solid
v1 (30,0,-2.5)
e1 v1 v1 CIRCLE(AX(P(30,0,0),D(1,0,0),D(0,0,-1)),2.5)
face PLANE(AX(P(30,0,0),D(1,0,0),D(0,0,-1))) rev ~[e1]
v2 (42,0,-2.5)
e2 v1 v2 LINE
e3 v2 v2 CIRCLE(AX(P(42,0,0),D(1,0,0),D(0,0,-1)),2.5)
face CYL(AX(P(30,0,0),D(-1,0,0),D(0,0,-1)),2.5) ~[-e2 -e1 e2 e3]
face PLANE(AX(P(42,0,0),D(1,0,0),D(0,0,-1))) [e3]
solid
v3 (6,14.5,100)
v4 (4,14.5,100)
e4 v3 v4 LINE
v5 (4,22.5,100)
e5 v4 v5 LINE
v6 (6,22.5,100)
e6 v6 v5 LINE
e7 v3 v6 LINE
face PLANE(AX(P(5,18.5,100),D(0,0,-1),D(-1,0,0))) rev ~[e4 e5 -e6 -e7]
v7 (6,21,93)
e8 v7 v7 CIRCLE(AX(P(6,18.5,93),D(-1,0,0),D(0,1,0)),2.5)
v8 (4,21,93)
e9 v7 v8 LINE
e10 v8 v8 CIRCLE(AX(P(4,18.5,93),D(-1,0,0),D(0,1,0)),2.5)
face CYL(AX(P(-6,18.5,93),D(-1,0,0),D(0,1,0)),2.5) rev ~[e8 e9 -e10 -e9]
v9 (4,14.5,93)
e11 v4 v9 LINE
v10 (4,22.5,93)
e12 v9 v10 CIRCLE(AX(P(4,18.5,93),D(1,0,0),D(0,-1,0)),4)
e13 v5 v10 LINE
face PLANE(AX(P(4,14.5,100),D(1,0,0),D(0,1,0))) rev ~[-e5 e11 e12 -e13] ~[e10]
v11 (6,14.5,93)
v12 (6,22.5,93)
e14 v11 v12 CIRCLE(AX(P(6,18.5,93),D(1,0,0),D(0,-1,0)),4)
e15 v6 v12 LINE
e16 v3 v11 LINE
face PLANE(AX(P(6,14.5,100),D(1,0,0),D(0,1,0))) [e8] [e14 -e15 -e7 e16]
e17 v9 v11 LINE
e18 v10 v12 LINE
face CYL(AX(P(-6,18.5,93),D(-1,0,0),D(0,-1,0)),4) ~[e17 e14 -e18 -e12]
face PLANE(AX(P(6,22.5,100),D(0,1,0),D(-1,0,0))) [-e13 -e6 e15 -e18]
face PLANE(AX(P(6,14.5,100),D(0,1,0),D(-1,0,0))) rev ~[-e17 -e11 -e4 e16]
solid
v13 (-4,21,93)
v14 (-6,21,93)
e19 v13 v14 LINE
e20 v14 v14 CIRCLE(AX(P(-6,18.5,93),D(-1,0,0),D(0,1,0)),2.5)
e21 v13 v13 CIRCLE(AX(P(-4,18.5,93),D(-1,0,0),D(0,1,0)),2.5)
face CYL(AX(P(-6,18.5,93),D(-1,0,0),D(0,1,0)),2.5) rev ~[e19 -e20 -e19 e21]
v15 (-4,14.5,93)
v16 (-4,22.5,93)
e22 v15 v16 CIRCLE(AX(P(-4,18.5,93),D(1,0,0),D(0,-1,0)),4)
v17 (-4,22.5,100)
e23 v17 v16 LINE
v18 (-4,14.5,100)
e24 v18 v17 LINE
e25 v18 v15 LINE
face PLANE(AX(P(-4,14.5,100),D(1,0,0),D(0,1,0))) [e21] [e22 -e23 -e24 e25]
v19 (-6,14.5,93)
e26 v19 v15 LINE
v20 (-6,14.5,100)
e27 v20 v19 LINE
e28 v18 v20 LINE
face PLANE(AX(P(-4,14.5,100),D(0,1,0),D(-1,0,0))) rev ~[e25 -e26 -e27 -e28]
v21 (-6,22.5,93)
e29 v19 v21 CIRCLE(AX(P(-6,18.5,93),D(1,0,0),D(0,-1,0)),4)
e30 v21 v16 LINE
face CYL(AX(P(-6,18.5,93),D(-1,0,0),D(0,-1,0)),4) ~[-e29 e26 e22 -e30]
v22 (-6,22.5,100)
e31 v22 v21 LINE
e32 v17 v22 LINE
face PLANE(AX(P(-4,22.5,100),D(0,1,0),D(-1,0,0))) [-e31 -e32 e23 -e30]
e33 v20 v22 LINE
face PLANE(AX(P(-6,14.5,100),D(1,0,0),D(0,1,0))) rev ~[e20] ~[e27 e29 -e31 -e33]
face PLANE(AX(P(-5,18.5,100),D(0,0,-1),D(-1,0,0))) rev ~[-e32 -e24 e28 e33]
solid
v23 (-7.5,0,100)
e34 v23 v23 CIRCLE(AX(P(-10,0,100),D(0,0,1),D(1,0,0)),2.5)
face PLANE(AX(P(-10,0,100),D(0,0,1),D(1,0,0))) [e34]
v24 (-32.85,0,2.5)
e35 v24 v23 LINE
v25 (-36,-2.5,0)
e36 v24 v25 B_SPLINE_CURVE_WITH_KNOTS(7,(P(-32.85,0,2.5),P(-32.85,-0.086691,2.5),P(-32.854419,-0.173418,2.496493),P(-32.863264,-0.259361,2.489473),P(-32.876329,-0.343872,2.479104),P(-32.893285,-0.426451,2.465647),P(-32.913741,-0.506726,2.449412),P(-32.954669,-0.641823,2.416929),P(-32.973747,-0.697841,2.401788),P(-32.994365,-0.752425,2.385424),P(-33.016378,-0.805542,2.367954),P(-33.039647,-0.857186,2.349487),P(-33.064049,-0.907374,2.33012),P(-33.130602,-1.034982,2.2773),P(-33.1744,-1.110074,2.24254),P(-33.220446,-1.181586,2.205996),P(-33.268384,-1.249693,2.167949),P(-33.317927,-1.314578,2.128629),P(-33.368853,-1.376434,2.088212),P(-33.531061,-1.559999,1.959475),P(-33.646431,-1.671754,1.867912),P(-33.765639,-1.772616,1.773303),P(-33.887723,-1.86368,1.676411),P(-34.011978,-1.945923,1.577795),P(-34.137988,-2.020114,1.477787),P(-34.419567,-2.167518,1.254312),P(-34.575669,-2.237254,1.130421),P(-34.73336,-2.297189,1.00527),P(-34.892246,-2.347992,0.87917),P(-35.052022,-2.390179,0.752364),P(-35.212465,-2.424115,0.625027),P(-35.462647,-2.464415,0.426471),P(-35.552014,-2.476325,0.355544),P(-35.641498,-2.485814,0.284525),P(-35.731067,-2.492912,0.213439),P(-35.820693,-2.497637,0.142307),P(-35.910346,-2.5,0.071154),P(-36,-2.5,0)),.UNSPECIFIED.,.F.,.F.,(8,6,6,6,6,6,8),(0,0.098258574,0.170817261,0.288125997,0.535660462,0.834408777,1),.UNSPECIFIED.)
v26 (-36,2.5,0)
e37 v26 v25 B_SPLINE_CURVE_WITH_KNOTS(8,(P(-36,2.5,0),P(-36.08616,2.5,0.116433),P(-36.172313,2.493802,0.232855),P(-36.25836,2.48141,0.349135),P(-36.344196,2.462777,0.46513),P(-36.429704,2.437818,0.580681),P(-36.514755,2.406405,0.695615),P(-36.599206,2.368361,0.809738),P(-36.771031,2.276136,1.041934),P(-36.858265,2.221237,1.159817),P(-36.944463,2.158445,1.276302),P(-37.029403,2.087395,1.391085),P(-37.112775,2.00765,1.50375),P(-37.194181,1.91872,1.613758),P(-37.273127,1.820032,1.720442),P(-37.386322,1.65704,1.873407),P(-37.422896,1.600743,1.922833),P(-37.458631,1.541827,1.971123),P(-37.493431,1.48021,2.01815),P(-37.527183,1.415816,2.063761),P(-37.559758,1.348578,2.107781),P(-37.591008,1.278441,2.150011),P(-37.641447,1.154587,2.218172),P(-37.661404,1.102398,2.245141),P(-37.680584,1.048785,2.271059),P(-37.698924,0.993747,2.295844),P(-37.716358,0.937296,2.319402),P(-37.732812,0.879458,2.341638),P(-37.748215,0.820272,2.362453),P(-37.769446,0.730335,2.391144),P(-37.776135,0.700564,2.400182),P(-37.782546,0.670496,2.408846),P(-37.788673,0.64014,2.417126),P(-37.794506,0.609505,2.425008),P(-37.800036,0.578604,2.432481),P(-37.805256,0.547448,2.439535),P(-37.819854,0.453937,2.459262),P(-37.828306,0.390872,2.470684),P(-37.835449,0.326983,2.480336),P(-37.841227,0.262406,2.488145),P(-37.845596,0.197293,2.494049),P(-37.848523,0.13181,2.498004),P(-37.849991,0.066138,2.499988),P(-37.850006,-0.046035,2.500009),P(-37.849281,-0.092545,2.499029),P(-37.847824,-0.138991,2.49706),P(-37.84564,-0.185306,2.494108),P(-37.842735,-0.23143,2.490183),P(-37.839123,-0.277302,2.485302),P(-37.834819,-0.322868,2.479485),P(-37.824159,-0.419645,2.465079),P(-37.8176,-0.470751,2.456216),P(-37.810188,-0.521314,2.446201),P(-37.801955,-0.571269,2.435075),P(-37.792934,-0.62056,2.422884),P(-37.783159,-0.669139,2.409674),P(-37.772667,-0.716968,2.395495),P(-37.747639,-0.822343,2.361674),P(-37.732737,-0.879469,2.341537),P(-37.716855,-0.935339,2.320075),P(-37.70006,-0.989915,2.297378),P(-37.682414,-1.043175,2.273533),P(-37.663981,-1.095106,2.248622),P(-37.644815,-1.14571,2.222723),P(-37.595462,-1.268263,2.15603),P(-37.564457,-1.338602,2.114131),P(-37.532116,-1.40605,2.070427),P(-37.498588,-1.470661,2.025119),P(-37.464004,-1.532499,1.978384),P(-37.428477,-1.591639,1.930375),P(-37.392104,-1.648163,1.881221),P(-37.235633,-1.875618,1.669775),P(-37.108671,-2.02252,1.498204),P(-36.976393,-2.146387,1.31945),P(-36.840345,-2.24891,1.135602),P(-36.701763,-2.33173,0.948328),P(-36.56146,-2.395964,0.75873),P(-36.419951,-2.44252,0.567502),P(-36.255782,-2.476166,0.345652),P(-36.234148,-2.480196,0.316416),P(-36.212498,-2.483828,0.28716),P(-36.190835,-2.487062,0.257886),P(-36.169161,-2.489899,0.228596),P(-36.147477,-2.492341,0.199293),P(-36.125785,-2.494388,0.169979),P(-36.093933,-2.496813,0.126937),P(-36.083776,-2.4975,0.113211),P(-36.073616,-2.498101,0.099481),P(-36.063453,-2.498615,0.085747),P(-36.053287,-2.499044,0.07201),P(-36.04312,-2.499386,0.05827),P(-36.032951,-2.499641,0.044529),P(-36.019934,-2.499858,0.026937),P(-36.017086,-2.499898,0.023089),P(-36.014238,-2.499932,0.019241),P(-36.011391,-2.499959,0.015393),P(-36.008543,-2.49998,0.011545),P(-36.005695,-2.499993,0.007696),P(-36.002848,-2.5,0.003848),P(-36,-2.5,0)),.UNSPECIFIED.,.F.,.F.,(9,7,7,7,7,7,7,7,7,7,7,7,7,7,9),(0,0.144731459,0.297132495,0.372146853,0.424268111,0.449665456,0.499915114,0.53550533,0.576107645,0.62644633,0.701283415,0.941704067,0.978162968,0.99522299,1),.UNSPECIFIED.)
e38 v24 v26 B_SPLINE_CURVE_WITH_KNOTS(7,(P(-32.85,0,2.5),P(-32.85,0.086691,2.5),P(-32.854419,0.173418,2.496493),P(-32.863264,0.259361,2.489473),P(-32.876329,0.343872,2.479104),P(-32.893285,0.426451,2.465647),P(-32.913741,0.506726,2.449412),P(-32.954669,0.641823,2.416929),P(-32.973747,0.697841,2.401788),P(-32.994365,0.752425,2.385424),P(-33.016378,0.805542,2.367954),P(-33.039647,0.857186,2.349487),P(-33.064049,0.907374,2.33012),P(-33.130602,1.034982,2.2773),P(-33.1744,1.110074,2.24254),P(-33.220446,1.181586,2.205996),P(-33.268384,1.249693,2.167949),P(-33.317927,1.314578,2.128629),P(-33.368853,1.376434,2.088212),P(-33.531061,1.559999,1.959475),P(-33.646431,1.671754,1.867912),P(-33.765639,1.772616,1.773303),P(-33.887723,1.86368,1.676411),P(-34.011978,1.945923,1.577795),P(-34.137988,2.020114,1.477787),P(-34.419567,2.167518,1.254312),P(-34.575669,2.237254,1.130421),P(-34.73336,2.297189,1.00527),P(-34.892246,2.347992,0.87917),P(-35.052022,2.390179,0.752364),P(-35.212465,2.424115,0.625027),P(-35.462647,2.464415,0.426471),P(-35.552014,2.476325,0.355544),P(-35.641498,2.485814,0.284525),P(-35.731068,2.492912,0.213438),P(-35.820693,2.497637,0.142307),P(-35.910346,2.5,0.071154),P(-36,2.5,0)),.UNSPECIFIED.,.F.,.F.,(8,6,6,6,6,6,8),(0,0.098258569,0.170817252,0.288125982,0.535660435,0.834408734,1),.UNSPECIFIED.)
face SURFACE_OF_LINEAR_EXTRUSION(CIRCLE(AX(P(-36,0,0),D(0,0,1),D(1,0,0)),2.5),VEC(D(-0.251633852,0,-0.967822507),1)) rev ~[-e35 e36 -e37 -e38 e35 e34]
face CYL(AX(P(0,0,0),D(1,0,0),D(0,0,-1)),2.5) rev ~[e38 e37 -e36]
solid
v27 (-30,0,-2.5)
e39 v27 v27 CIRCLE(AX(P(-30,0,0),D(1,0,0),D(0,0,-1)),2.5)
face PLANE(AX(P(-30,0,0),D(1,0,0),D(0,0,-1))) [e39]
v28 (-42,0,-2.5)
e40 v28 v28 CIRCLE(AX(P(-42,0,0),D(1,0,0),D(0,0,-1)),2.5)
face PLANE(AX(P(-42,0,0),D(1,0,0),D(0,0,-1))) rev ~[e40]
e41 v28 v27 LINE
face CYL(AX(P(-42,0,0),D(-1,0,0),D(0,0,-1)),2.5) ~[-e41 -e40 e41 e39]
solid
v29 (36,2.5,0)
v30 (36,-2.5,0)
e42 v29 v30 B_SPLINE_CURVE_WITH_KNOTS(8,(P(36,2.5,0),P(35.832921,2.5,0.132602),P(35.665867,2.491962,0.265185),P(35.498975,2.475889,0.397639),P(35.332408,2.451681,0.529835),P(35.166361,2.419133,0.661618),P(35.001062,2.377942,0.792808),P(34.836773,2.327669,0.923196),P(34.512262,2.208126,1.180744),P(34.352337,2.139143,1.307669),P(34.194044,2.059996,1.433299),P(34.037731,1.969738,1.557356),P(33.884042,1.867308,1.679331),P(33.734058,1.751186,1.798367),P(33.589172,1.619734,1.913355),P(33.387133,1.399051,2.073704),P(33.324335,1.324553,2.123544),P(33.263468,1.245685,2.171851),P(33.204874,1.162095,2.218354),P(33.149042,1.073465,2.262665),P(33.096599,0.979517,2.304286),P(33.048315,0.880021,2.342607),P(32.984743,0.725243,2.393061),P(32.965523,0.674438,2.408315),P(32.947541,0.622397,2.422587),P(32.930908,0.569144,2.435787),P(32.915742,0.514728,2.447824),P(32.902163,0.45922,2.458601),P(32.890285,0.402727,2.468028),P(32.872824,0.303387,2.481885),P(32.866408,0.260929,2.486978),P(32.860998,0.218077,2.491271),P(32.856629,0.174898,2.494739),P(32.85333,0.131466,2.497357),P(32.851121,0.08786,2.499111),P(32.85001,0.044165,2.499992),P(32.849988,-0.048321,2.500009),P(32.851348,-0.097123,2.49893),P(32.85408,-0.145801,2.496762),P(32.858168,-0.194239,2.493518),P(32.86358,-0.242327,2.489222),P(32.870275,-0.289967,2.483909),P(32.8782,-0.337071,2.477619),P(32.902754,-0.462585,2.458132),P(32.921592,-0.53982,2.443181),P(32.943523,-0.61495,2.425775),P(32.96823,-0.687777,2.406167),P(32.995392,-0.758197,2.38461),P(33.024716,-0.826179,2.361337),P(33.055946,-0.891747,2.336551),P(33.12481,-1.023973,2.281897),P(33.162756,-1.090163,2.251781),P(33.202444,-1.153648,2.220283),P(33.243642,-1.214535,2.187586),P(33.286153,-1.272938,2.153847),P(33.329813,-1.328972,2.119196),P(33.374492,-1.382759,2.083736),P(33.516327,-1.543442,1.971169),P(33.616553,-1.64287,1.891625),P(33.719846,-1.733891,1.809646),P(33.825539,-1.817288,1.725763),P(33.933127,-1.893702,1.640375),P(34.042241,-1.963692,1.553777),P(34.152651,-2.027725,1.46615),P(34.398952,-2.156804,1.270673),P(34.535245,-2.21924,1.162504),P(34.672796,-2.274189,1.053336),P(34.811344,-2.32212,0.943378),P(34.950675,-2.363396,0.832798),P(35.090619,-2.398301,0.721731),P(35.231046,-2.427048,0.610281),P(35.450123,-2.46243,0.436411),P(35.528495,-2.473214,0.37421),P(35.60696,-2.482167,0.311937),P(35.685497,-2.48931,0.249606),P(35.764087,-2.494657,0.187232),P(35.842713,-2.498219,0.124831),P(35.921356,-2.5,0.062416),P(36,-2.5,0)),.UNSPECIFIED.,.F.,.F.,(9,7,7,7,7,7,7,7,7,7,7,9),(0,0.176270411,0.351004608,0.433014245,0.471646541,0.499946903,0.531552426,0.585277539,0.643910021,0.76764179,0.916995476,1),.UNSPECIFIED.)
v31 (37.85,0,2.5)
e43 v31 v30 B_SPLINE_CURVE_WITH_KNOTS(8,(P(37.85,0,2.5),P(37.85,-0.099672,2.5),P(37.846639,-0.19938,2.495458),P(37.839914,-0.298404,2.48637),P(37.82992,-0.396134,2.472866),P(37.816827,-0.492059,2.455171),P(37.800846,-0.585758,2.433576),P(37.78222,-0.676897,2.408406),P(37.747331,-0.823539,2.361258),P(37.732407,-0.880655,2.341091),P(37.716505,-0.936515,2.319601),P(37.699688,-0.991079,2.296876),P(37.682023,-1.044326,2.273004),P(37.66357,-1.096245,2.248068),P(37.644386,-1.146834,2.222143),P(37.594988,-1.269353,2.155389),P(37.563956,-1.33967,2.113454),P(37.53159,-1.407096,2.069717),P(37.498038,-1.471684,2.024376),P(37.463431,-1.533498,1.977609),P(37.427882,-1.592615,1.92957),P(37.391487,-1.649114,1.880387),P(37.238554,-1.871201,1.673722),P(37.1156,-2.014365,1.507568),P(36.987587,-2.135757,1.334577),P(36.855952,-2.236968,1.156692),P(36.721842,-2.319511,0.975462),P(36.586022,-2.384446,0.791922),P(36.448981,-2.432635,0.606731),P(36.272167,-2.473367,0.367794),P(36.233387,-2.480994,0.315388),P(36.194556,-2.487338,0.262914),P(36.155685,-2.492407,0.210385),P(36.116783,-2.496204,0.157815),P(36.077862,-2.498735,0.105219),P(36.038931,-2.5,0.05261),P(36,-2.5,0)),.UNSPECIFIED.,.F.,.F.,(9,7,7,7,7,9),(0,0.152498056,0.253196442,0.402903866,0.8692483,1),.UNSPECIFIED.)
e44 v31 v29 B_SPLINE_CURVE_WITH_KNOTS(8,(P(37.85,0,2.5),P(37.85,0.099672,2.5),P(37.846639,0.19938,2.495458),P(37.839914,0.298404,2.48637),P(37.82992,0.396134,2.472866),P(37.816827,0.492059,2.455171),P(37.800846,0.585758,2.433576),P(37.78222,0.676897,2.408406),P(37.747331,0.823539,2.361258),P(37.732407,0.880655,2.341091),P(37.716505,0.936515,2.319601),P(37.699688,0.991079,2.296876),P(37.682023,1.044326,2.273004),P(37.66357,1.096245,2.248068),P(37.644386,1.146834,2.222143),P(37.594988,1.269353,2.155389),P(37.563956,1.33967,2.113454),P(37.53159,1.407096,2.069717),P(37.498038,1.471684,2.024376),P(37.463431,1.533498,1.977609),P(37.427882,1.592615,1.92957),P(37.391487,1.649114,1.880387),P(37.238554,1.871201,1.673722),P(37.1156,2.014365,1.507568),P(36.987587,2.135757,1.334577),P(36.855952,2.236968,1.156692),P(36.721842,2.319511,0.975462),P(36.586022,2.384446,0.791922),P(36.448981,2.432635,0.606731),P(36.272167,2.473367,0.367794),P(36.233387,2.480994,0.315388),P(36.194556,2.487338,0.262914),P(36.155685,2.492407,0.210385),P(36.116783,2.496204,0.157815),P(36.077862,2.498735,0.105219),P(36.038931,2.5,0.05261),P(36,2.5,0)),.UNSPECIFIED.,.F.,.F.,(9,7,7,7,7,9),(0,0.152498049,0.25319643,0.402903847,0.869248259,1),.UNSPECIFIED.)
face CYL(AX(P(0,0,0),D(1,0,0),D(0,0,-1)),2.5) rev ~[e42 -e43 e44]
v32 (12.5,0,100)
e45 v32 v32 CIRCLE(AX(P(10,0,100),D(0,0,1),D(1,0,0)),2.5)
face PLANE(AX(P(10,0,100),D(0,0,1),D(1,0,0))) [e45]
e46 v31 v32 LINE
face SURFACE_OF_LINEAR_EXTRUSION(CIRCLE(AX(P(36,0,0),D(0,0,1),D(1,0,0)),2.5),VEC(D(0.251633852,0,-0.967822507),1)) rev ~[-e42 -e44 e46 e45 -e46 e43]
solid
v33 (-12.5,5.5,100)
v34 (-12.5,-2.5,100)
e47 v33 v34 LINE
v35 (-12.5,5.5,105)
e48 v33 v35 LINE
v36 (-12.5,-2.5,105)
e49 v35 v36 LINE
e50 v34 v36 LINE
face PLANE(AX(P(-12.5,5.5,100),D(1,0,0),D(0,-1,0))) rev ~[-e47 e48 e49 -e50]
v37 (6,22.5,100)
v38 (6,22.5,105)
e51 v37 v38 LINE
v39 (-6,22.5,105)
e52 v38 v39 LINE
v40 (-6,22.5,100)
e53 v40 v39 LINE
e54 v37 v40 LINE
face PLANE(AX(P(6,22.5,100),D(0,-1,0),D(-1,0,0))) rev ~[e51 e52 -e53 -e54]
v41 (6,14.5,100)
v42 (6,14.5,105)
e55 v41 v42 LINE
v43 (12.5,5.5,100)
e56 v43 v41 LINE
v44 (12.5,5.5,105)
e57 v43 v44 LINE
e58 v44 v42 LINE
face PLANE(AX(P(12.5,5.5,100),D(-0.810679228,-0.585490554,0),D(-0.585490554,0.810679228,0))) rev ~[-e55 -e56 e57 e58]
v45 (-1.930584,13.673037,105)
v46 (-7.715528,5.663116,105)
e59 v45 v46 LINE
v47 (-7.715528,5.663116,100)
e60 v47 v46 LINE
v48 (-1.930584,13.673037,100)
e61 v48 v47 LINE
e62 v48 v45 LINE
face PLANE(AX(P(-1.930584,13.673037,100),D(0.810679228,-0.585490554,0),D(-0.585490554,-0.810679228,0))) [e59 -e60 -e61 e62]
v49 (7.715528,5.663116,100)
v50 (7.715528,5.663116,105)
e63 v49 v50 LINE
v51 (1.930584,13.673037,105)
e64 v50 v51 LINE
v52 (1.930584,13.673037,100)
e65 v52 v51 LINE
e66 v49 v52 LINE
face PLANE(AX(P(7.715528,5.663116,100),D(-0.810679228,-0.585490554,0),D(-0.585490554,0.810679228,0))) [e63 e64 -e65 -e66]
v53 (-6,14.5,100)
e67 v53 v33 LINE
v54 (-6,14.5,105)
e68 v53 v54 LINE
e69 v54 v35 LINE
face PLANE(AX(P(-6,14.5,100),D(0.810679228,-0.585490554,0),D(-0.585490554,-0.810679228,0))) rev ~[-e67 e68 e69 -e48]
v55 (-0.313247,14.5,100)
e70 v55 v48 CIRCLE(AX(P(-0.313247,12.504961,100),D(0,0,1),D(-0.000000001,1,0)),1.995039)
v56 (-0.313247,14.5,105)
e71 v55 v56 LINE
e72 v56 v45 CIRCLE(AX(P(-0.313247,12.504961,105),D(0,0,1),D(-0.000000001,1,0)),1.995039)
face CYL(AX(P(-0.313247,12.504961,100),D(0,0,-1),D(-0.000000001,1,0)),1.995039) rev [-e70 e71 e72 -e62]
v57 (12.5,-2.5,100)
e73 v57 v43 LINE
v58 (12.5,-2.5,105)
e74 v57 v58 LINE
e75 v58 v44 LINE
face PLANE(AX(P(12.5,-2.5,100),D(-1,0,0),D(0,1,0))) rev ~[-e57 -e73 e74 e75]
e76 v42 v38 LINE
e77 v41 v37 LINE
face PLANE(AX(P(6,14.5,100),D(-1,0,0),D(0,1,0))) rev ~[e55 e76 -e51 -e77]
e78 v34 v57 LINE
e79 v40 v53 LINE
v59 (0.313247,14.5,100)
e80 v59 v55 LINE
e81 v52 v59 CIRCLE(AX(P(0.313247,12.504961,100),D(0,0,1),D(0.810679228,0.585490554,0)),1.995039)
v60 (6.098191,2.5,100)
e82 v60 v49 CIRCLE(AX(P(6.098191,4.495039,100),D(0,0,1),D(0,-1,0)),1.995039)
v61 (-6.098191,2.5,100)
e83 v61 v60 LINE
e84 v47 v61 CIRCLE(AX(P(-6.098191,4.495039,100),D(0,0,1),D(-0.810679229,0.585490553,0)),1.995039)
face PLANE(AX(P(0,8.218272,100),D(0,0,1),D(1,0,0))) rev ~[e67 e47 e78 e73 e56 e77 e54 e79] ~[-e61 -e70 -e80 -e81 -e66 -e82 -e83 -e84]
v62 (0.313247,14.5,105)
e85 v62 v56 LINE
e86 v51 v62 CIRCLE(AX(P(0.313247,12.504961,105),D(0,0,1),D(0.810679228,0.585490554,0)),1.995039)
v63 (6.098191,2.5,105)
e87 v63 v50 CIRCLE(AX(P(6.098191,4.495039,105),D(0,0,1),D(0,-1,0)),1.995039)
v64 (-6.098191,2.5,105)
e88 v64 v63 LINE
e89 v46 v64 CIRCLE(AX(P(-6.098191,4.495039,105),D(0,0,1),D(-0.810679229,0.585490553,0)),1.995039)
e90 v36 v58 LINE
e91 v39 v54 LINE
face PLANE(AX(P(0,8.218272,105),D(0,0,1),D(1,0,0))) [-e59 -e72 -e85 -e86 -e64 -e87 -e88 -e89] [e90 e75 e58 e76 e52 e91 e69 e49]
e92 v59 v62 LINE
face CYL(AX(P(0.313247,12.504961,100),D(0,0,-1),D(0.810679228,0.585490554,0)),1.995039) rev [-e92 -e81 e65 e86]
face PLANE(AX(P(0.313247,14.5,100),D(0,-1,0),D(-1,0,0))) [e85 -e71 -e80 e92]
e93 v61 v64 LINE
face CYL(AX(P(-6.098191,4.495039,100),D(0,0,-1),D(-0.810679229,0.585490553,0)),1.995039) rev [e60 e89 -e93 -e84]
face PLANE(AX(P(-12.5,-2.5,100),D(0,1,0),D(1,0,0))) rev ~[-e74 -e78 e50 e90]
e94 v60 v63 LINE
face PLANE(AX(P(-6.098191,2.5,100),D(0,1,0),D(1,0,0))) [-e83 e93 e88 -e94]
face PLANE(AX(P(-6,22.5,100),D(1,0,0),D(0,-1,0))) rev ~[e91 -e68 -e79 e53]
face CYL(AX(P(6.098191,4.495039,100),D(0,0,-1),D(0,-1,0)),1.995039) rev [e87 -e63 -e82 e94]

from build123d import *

# Parameters (mm, degrees)
SKETCH16_R              = 2.5
BOSS_EXTRUDE1_DEPTH     = 103.324730825
SKETCH16_3_R            = 2.5
BOSS_EXTRUDE2_DEPTH     = 103.324730825
SKETCH17_R              = 2.5
CUT_EXTRUDE2_DEPTH      = 108.18442051
CUT_EXTRUDE2_DEPTH_BACK = 108.18442051
BOSS_EXTRUDE4_START     = 30
SKETCH17_3_R            = 2.5
BOSS_EXTRUDE4_DEPTH     = 12
BOSS_EXTRUDE5_START     = -42
SKETCH17_4_R            = 2.5
BOSS_EXTRUDE5_DEPTH     = 12
BOSS_EXTRUDE7_START     = 100
BOSS_EXTRUDE7_DEPTH     = 5
SKETCH23_W              = 2
SKETCH23_H              = 8
BOSS_EXTRUDE8_DEPTH     = 11
BOSS_EXTRUDE8_2_DEPTH   = 11
SKETCH24_R              = 2.5
CUT_EXTRUDE5_DEPTH      = 118.623339521
CUT_EXTRUDE5_DEPTH_BACK = 118.623339521


with BuildPart() as part:
    # Sketch16 → Boss-Extrude1 (new, along a direction that is not the sketch's normal)
    with BuildSketch(Plane.XY):
        with Locations((36, 0)):
            Circle(SKETCH16_R)
    extrude(amount=BOSS_EXTRUDE1_DEPTH, dir=(-0.25163385176495107, 0, 0.967822506788272))


with BuildPart() as body_2:
    # Sketch16<3> → Boss-Extrude2 (new, along a direction that is not the sketch's normal)
    with BuildSketch(Plane.XY):
        with Locations((-36, 0)):
            Circle(SKETCH16_3_R)
    extrude(amount=BOSS_EXTRUDE2_DEPTH, dir=(0.25163385176495107, 0, 0.967822506788272))


with BuildPart() as cut_extrude2_tool:
    # Sketch17 → Cut-Extrude2 (new, two sides)
    with BuildSketch(Plane(origin=(0, 0, 0), x_dir=(0, 0, -1), z_dir=(1, 0, 0))) as cut_extrude2_sk:
        Circle(SKETCH17_R)
    extrude(amount=CUT_EXTRUDE2_DEPTH)
    extrude(cut_extrude2_sk.sketch, amount=-CUT_EXTRUDE2_DEPTH_BACK)


with BuildPart() as part_1:
    add(part.part)

    # Cut-Extrude2: cut by cut_extrude2_tool
    add(cut_extrude2_tool.part, mode=Mode.SUBTRACT)


with BuildPart() as body_2_1:
    add(body_2.part)

    # Cut-Extrude2: cut by cut_extrude2_tool
    add(cut_extrude2_tool.part, mode=Mode.SUBTRACT)


with BuildPart() as body_3:
    # Sketch17<3> → Boss-Extrude4 (new body)
    with BuildSketch(Plane(origin=(0, 0, 0), x_dir=(0, 0, -1), z_dir=(1, 0, 0)).offset(BOSS_EXTRUDE4_START)):
        Circle(SKETCH17_3_R)
    extrude(amount=BOSS_EXTRUDE4_DEPTH)


with BuildPart() as body_4:
    # Sketch17<4> → Boss-Extrude5 (new body)
    with BuildSketch(Plane(origin=(0, 0, 0), x_dir=(0, 0, -1), z_dir=(1, 0, 0)).offset(BOSS_EXTRUDE5_START)):
        Circle(SKETCH17_4_R)
    extrude(amount=BOSS_EXTRUDE5_DEPTH)


with BuildPart() as body_5:
    # Sketch22 → Boss-Extrude7 (new body)
    with BuildSketch(Plane.XY.offset(BOSS_EXTRUDE7_START)):
        Polygon((-12.5, -2.5), (12.5, -2.5), (12.5, 5.5), (6, 14.5), (6, 22.5), (-6, 22.5), (-6, 14.5), (-12.5, 5.5), align=None)
        with BuildLine():
            Line((-6.098190951, 2.5), (6.098190951, 2.5))
            ThreePointArc((6.098190951, 2.5), (7.874498779, 3.586792782), (7.715527659, 5.663115549))
            Line((7.715527659, 5.663115549), (1.930584047, 13.673037473))
            ThreePointArc((1.930584047, 13.673037473), (1.221493595, 14.28126879), (0.313247339, 14.5))
            Line((0.313247339, 14.5), (-0.313247339, 14.5))
            ThreePointArc((-0.313247339, 14.5), (-1.221493595, 14.28126879), (-1.930584047, 13.673037473))
            Line((-1.930584047, 13.673037473), (-7.715527659, 5.663115549))
            ThreePointArc((-7.715527659, 5.663115549), (-7.874498779, 3.586792782), (-6.098190951, 2.5))
        make_face(mode=Mode.SUBTRACT)
    extrude(amount=BOSS_EXTRUDE7_DEPTH)


with BuildPart() as body_6:
    # Sketch23 → Boss-Extrude8 (new body)
    with BuildSketch(Plane(origin=(0, 0, 100), x_dir=(-1, 0, 0), z_dir=(0, 0, -1))):
        with Locations((-5, 18.5)):
            Rectangle(SKETCH23_W, SKETCH23_H)
    extrude(amount=BOSS_EXTRUDE8_DEPTH)


with BuildPart() as body_7:
    # Sketch23 → Boss-Extrude8 2 (new body)
    with BuildSketch(Plane(origin=(0, 0, 100), x_dir=(-1, 0, 0), z_dir=(0, 0, -1))):
        with Locations((5, 18.5)):
            Rectangle(SKETCH23_W, SKETCH23_H)
    extrude(amount=BOSS_EXTRUDE8_2_DEPTH)


with BuildPart() as cut_extrude5_tool:
    # Sketch24 → Cut-Extrude5 (new, two sides)
    with BuildSketch(Plane.ZY.offset(6)) as cut_extrude5_sk:
        with Locations(Location((93, 18.5, 0), (0, 0, 90))):
            Circle(SKETCH24_R)
        with BuildLine():
            Line((93, 22.5), (86, 22.5))
            Line((86, 22.5), (86, 14.5))
            Line((86, 14.5), (93, 14.5))
            ThreePointArc((93, 14.5), (89, 18.5), (93, 22.5))
        make_face()
    extrude(amount=CUT_EXTRUDE5_DEPTH)
    extrude(cut_extrude5_sk.sketch, amount=-CUT_EXTRUDE5_DEPTH_BACK)


with BuildPart() as body_6_1:
    add(body_6.part)

    # Cut-Extrude5: cut by cut_extrude5_tool
    add(cut_extrude5_tool.part, mode=Mode.SUBTRACT)


with BuildPart() as body_7_1:
    add(body_7.part)

    # Cut-Extrude5: cut by cut_extrude5_tool
    add(cut_extrude5_tool.part, mode=Mode.SUBTRACT)


solid = Compound([part_1.part, body_2_1.part, body_3.part, body_4.part, body_5.part, body_6_1.part, body_7_1.part])
